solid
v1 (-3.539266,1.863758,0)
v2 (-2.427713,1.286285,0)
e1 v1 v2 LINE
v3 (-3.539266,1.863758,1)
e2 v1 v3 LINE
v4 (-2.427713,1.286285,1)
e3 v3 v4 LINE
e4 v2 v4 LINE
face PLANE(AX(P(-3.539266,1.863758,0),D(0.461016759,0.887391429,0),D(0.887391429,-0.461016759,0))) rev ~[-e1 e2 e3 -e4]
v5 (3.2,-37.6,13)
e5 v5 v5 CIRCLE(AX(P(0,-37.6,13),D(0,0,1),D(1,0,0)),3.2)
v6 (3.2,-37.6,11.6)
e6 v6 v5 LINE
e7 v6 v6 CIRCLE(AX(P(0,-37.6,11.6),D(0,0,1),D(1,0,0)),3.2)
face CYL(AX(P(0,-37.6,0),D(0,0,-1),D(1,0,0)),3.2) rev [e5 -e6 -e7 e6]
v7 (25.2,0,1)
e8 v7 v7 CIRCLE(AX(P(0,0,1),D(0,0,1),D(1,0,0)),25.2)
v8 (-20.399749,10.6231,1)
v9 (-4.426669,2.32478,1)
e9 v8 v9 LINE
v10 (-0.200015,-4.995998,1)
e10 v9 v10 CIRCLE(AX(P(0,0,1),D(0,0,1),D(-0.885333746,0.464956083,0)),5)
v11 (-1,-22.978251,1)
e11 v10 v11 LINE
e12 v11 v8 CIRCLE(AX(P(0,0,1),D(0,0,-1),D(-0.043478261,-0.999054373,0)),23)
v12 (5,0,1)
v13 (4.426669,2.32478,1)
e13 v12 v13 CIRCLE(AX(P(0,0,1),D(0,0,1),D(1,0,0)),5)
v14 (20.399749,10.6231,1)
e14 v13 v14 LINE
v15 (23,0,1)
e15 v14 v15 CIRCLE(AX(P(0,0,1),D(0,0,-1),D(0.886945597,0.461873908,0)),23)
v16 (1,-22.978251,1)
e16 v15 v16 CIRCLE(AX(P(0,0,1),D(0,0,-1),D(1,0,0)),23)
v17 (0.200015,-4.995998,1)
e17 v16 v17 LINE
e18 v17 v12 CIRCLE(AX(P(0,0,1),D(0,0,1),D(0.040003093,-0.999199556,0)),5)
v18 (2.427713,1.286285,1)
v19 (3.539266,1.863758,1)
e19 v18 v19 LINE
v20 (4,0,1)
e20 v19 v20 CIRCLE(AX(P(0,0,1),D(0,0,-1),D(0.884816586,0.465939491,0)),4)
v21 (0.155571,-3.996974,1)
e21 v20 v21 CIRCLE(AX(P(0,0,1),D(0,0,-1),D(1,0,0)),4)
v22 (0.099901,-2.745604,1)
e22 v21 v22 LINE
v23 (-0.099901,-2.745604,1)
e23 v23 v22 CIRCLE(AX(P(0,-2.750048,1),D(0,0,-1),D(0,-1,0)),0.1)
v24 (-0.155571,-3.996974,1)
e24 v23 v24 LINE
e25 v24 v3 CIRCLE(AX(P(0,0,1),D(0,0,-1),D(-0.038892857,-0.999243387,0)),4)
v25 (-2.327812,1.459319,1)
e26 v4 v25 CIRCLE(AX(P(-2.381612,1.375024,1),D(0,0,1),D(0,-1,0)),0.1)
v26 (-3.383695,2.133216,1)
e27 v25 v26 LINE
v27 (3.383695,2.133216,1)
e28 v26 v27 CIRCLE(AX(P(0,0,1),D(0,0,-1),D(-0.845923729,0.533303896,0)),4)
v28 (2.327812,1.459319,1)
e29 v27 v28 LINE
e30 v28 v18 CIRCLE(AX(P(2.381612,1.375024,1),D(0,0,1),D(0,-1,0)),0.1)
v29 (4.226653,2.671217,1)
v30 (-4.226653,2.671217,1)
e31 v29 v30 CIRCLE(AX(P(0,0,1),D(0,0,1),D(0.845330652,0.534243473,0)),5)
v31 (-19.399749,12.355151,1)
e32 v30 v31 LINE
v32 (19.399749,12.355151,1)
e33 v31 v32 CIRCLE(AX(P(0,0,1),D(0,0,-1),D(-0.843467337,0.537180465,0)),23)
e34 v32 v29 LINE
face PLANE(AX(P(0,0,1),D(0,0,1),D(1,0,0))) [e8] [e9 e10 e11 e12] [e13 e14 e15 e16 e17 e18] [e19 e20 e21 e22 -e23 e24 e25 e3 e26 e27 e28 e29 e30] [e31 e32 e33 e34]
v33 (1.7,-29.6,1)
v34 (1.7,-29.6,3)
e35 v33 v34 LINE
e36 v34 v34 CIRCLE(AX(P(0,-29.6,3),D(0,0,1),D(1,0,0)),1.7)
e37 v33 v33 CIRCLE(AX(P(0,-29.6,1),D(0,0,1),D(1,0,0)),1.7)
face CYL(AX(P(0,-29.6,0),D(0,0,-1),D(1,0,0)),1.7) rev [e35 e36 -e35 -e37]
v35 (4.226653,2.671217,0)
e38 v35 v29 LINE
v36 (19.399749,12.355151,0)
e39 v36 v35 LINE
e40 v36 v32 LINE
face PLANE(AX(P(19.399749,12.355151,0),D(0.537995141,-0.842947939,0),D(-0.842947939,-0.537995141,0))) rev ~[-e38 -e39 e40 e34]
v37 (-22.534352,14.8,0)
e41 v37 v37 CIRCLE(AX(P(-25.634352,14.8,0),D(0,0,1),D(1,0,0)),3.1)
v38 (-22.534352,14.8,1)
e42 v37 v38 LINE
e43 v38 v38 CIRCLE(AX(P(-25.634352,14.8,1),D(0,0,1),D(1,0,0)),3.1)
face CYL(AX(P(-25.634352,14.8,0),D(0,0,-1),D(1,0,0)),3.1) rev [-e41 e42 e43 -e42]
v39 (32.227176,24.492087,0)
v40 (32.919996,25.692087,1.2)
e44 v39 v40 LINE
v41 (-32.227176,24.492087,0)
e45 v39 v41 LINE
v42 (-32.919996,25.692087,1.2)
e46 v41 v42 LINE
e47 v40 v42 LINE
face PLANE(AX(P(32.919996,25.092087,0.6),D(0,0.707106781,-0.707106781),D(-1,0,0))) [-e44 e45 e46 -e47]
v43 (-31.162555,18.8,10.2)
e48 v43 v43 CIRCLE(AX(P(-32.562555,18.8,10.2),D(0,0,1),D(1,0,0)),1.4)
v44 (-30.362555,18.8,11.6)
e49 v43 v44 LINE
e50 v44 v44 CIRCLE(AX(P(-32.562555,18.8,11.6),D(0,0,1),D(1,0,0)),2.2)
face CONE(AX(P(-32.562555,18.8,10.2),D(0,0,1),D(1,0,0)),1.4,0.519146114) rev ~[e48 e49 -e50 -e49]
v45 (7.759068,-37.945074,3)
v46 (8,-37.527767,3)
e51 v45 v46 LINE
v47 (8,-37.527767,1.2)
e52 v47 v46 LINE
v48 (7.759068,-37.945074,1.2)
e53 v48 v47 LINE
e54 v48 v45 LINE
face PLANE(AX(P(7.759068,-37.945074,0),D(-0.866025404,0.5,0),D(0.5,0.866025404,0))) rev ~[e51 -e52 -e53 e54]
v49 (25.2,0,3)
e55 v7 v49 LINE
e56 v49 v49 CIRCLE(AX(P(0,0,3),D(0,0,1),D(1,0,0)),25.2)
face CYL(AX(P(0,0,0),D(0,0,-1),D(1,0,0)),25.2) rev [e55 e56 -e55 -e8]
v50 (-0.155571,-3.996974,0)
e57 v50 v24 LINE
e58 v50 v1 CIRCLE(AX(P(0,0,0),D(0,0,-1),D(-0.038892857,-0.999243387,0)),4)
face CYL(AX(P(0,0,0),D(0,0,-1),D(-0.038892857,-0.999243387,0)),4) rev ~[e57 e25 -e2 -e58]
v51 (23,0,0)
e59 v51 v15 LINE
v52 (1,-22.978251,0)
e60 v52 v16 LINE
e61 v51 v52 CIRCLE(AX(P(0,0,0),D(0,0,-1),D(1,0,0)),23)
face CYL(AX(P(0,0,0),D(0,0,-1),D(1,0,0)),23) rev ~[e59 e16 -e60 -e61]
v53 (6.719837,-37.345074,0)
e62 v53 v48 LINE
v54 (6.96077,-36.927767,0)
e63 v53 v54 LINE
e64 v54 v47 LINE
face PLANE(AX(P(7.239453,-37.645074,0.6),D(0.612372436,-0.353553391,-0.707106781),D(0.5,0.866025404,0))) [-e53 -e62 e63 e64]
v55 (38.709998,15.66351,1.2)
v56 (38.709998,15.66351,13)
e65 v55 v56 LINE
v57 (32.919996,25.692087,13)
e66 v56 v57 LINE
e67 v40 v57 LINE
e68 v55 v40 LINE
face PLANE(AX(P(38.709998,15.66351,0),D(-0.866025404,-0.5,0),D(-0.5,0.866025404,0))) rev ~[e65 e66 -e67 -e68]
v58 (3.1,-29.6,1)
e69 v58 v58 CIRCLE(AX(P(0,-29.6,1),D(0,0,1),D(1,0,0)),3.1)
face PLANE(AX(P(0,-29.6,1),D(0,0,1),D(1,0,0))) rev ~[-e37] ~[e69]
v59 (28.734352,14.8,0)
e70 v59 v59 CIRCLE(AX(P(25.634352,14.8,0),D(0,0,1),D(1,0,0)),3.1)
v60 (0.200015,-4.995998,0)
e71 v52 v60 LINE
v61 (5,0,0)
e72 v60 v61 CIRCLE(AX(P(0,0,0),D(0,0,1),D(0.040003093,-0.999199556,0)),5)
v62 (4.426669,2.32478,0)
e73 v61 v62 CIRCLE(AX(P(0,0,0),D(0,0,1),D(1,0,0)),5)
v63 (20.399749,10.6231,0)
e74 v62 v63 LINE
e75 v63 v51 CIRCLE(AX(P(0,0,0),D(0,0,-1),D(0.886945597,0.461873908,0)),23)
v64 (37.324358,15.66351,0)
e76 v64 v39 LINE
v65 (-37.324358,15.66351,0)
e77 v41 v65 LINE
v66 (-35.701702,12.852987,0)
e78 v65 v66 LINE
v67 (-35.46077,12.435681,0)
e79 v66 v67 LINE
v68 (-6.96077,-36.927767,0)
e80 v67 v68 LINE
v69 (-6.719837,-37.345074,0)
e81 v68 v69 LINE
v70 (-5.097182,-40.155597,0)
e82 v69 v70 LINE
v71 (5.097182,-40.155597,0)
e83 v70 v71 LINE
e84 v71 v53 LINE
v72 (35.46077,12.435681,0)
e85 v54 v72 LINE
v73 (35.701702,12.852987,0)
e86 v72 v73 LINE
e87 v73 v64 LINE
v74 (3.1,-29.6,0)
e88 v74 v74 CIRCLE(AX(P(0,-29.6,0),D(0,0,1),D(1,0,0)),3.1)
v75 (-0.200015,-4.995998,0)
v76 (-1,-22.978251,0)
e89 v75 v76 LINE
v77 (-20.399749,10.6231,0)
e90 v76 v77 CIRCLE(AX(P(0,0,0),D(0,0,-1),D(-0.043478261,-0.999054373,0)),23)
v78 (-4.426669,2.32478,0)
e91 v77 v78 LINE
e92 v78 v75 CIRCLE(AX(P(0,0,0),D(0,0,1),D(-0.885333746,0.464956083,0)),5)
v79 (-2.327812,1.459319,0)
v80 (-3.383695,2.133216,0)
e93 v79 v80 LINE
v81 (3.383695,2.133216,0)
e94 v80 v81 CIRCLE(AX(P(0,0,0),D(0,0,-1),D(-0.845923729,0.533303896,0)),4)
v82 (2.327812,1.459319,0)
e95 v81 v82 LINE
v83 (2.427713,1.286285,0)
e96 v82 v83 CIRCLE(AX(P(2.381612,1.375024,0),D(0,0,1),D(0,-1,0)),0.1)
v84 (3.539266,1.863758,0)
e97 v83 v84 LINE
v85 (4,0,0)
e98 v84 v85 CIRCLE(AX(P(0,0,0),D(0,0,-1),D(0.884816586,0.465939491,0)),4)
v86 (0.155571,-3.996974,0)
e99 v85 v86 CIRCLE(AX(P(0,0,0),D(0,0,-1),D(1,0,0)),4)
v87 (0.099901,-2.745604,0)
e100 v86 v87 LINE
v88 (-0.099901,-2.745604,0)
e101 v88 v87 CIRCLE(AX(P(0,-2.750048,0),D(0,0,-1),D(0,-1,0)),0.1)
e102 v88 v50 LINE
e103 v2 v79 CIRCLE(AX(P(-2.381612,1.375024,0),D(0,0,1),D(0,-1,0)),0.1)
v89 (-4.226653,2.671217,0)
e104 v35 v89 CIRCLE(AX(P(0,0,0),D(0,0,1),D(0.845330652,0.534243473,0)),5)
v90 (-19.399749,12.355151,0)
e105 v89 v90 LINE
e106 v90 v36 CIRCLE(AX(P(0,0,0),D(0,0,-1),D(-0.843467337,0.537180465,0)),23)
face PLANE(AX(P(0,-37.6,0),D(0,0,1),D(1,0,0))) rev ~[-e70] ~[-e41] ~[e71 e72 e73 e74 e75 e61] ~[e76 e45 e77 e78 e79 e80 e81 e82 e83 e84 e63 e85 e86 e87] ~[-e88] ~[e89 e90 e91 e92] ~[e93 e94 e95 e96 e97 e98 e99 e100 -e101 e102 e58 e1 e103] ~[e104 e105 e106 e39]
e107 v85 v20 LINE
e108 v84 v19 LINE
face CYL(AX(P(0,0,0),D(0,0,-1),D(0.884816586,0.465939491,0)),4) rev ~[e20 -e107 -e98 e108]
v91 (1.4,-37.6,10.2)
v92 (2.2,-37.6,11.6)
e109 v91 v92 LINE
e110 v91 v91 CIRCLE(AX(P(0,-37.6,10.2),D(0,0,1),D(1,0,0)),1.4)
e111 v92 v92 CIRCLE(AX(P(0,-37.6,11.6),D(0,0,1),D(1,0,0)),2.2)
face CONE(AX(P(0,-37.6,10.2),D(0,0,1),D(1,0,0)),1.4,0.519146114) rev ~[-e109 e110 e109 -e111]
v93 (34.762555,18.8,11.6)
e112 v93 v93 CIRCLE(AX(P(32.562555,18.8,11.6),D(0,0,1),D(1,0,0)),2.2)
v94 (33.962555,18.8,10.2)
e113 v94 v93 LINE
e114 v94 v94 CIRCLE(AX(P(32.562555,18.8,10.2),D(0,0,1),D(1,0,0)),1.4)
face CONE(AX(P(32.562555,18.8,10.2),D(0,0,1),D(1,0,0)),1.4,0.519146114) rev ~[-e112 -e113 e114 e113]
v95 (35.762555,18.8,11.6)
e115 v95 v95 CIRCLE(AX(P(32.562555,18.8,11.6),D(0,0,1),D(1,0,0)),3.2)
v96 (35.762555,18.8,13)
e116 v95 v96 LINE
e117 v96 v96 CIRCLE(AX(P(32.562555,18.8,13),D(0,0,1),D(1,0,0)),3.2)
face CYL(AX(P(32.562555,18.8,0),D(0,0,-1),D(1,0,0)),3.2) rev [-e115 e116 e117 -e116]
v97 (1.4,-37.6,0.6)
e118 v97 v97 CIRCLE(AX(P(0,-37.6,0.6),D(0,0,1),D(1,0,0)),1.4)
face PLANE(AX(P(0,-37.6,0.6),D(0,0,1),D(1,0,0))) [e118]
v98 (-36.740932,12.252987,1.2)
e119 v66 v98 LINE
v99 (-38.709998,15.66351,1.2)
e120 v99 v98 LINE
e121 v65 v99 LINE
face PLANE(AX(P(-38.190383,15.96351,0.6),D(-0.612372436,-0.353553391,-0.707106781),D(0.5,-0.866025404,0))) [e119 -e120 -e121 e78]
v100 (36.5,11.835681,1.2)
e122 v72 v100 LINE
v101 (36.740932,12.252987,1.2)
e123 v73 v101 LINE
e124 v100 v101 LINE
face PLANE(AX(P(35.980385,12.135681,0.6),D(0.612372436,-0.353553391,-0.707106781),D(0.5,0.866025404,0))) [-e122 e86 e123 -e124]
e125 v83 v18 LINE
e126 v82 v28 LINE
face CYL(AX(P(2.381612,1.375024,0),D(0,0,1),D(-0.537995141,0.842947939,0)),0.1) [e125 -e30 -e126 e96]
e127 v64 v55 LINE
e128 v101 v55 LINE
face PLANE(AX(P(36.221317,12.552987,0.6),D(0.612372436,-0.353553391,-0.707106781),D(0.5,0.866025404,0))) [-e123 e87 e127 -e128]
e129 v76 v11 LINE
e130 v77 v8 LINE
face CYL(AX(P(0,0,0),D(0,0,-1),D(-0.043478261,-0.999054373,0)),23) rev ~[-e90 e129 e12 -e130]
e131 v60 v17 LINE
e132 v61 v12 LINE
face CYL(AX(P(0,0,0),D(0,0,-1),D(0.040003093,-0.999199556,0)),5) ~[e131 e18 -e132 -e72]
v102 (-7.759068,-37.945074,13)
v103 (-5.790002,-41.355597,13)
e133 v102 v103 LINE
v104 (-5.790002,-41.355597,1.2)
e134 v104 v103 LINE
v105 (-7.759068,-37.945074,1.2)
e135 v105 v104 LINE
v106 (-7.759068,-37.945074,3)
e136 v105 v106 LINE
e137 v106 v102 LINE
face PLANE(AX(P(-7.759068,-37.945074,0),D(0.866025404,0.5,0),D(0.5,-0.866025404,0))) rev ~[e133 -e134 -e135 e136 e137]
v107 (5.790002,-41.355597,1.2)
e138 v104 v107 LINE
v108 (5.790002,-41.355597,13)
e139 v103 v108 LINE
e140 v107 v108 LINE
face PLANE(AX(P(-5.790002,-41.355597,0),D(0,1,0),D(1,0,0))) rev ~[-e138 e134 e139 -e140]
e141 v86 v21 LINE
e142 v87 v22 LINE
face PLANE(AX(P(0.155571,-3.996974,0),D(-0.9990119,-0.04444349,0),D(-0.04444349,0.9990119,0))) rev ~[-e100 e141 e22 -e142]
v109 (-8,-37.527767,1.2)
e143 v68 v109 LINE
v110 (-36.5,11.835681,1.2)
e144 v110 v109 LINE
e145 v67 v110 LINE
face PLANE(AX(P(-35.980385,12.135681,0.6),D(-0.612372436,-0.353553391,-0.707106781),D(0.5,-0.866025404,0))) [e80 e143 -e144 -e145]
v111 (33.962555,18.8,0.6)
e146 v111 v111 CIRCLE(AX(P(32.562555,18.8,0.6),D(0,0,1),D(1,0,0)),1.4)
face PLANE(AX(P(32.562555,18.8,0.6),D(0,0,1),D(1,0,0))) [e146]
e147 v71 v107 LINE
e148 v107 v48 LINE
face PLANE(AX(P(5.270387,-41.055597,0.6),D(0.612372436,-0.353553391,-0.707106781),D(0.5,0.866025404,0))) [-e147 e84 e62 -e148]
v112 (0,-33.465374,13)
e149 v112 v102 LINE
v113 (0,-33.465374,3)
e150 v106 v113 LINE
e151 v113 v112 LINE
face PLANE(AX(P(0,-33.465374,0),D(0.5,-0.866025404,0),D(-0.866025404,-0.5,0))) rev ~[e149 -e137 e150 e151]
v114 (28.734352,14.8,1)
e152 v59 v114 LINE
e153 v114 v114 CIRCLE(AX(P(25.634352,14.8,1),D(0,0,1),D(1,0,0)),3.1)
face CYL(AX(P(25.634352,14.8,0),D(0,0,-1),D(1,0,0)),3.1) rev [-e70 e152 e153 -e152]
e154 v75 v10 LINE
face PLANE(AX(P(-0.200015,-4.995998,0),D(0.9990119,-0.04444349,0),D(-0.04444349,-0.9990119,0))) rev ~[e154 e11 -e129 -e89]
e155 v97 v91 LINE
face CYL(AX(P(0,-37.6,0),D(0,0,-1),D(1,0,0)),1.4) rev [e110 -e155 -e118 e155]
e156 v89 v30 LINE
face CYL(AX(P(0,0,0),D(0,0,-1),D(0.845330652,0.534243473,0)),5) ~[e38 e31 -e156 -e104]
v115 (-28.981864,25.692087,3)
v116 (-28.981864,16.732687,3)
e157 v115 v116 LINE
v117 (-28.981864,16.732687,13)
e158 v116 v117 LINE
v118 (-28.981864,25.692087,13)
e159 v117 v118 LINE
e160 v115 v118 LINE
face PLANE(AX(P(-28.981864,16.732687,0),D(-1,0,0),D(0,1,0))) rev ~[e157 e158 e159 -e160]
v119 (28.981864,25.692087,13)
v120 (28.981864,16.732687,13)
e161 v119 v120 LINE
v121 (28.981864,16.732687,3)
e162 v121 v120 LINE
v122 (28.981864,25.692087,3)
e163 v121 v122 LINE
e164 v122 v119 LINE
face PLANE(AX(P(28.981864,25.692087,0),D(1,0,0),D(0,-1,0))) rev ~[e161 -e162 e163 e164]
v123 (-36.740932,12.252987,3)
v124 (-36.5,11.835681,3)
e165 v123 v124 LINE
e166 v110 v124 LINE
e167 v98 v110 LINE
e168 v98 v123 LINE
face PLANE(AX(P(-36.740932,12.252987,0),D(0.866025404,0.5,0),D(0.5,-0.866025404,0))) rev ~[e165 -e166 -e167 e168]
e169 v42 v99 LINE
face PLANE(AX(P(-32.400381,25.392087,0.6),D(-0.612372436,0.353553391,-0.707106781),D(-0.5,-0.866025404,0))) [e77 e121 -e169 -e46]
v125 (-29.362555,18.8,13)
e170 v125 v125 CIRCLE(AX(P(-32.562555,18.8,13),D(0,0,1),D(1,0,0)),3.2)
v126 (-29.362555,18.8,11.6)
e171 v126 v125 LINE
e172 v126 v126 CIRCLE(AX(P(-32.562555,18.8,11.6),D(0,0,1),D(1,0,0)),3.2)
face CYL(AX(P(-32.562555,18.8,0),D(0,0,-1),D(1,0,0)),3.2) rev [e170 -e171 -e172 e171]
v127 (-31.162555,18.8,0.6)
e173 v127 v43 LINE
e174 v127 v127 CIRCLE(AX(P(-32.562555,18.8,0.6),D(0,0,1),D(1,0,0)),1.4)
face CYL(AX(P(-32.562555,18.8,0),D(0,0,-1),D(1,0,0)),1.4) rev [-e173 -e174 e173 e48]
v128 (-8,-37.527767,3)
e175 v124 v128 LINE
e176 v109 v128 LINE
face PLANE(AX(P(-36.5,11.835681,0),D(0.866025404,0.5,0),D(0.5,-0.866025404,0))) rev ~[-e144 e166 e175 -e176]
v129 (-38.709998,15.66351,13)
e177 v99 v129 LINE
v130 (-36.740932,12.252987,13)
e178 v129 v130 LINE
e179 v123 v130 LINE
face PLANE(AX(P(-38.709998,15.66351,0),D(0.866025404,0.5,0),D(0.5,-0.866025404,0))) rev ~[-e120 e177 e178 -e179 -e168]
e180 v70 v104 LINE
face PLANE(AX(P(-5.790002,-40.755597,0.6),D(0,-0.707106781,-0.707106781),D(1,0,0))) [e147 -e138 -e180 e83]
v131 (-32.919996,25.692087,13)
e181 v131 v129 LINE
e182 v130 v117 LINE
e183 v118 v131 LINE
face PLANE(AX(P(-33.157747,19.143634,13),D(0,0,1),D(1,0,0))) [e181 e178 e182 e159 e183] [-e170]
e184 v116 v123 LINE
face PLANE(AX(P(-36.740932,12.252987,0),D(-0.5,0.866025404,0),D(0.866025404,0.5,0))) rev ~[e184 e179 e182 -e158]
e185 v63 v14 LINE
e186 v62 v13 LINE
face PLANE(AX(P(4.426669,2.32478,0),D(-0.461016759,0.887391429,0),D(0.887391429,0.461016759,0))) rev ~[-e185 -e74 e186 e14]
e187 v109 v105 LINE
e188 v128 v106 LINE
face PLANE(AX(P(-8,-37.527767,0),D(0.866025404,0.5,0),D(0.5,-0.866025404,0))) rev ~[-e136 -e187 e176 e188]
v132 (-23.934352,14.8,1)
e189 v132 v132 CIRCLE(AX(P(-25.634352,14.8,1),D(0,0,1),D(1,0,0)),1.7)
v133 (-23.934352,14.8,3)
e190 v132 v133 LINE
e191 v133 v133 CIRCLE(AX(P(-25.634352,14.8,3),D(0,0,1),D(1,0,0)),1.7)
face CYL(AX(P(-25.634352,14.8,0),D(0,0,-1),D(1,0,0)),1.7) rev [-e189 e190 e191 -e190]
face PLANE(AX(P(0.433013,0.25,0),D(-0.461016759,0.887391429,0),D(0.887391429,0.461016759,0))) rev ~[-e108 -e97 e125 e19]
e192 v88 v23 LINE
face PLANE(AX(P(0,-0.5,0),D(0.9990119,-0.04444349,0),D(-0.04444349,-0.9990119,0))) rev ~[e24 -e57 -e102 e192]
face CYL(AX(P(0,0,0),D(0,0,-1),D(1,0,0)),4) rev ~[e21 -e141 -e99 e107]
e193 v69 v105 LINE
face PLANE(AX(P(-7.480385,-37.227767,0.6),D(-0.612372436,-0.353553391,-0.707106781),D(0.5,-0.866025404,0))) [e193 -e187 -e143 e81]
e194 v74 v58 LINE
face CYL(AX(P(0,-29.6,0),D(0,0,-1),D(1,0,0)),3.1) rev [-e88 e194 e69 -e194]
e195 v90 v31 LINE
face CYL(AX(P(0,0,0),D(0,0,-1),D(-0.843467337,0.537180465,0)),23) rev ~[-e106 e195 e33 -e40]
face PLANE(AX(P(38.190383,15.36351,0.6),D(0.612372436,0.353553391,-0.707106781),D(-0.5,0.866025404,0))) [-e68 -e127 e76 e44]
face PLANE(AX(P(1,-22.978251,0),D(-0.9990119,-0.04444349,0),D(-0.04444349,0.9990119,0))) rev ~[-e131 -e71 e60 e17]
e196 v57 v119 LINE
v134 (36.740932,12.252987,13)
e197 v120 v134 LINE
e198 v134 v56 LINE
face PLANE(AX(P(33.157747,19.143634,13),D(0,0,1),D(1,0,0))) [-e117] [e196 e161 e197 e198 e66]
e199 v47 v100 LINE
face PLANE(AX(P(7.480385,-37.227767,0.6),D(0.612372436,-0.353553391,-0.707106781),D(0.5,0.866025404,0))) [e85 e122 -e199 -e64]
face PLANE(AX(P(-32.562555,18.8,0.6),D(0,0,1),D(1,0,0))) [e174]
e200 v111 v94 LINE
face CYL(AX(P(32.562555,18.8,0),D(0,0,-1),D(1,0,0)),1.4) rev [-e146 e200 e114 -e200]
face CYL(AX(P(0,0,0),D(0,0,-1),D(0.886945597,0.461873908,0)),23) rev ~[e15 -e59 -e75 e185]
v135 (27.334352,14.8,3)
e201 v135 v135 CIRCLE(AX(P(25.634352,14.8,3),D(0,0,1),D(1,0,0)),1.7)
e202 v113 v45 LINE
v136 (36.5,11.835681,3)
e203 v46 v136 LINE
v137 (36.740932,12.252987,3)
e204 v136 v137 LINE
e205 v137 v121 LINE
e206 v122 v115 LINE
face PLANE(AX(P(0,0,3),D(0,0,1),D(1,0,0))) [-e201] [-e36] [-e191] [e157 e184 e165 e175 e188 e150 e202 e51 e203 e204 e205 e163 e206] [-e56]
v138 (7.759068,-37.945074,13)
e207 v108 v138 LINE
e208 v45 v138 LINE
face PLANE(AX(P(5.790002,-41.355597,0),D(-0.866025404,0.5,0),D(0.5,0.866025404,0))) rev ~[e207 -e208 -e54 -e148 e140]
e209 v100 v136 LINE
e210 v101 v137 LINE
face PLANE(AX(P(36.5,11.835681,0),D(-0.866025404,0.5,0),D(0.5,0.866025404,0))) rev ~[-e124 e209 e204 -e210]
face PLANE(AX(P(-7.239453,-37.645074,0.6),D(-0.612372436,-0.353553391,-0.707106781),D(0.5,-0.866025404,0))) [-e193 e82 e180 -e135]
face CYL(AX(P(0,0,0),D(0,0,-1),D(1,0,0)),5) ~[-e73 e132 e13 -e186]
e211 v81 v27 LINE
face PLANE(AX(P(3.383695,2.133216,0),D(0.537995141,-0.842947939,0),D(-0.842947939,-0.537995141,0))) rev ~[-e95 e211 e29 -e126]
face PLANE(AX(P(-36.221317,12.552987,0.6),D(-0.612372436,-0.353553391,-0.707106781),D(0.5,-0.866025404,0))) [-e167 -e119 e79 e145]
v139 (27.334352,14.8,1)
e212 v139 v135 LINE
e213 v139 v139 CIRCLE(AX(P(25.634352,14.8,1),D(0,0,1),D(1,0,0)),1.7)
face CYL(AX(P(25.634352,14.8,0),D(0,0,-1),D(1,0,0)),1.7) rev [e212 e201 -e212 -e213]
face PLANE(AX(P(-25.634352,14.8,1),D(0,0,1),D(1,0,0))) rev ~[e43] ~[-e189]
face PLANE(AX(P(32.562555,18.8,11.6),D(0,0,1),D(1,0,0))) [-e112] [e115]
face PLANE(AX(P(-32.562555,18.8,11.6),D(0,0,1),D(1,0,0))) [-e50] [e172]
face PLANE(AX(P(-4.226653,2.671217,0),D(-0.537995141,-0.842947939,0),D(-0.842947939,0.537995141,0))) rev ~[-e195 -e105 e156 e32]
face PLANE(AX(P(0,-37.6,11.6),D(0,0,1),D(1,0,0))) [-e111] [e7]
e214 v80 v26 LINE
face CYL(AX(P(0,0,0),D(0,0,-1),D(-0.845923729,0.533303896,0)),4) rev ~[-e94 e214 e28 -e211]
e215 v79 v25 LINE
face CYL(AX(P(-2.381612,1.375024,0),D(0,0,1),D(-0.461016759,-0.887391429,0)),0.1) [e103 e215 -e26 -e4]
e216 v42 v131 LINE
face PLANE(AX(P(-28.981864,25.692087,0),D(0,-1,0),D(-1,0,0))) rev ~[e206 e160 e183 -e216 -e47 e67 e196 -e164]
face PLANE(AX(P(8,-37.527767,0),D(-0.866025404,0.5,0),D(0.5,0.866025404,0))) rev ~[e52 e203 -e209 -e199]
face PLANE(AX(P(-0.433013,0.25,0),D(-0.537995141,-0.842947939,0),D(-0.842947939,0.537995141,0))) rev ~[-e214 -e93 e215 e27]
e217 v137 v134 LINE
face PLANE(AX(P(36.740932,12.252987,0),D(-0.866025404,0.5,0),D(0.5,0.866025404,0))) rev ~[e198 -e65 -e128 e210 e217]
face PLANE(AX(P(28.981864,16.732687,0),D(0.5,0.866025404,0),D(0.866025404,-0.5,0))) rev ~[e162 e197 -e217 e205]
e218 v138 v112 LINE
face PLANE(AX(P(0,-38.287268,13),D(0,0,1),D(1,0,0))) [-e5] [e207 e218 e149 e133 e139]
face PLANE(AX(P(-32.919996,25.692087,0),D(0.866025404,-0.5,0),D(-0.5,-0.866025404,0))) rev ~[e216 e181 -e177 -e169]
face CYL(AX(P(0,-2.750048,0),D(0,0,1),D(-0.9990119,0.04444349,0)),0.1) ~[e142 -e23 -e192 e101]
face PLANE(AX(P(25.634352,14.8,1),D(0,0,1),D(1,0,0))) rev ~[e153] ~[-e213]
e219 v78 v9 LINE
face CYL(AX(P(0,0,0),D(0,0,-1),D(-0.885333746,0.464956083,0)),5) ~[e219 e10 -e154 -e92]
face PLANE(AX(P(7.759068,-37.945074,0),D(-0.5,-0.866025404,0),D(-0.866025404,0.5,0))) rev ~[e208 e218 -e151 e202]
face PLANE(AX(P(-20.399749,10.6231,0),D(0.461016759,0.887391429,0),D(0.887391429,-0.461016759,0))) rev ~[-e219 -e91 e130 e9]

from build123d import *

# Parameters (mm, degrees)
F0_R       = 3.1
F0_R_2     = 25.2
F0_R_3     = 1.7
F1_DEPTH   = 3
F2_DEPTH   = 1
F0_R_4     = 3.2
F3_DEPTH   = 13
F0_R_5     = 1.4
F4_DEPTH   = 11.6
F5_DEPTH   = 0.6
F6_DEPTH   = 1
F7_SIZE2   = 0.8
F7_SIZE    = 1.4
F7_2_SIZE2 = 0.8
F7_2_SIZE  = 1.4
F7_3_SIZE2 = 0.8
F7_3_SIZE  = 1.4
F8_R       = 0.1
F9_SIZE    = 1.2


with BuildPart() as f1:
    # F0 (on Top) → F1 (new body)
    with BuildSketch(Plane.XY):
        Polygon((28.5, 16.4544826719), (28.5, 25.6920869789), (-28.5, 25.6920869789), (-28.5, 16.4544826719), (-36.5, 11.8356805184), (-8, -37.5277674973), (0, -32.9089653438), (8, -37.5277674973), (36.5, 11.8356805184), align=None)
        with Locations((0, -29.6)):
            Circle(F0_R, mode=Mode.SUBTRACT)
        Circle(F0_R_2, mode=Mode.SUBTRACT)
        with Locations((-25.634351952, 14.8)):
            Circle(F0_R, mode=Mode.SUBTRACT)
        with Locations((25.634351952, 14.8)):
            Circle(F0_R, mode=Mode.SUBTRACT)
        with Locations((-25.634351952, 14.8)):
            Circle(F0_R)
        with Locations((-25.634351952, 14.8)):
            Circle(F0_R_3, mode=Mode.SUBTRACT)
        with Locations((25.634351952, 14.8)):
            Circle(F0_R)
        with Locations((25.634351952, 14.8)):
            Circle(F0_R_3, mode=Mode.SUBTRACT)
        with Locations((0, -29.6)):
            Circle(F0_R)
        with Locations((0, -29.6)):
            Circle(F0_R_3, mode=Mode.SUBTRACT)
        Polygon((-28.5, 16.4544826719), (-28.5, 25.6920869789), (-28.981864252, 25.6920869789), (-28.981864252, 16.7326871275), (-36.740932126, 12.2529872018), (-36.5, 11.8356805184), align=None)
        Polygon((28.981864252, 25.6920869789), (28.5, 25.6920869789), (28.5, 16.4544826719), (36.5, 11.8356805184), (36.740932126, 12.2529872018), (28.981864252, 16.7326871275), align=None)
        Polygon((7.759067874, -37.9450741808), (8, -37.5277674973), (0, -32.9089653438), (-8, -37.5277674973), (-7.759067874, -37.9450741808), (0, -33.4653742551), align=None)
    extrude(amount=F1_DEPTH)

    # F0 (on Top) → F2 (join)
    with BuildSketch(Plane.XY):
        Circle(F0_R_2)
        with BuildLine():
            ThreePointArc((19.3997487421, 12.3551506969), (19.918584287, 11.5), (20.3997487421, 10.6230998893))
            ThreePointArc((20.3997487421, 10.6230998893), (22.3404814302, 5.468353451), (23, 0))
            ThreePointArc((23, 0), (16.6132477258, -15.9059737206), (1, -22.9782505862))
            ThreePointArc((1, -22.9782505862), (0, -23), (-1, -22.9782505862))
            ThreePointArc((-1, -22.9782505862), (-19.918584287, -11.5), (-20.3997487421, 10.6230998893))
            ThreePointArc((-20.3997487421, 10.6230998893), (-19.918584287, 11.5), (-19.3997487421, 12.3551506969))
            ThreePointArc((-19.3997487421, 12.3551506969), (0, 23), (19.3997487421, 12.3551506969))
        make_face(mode=Mode.SUBTRACT)
        with BuildLine():
            Line((1, -22.9782505862), (0.2000154666, -4.9959977795))
            ThreePointArc((0.2000154666, -4.9959977795), (0, -5), (-0.2000154666, -4.9959977795))
            Line((-0.2000154666, -4.9959977795), (-1, -22.9782505862))
            ThreePointArc((-1, -22.9782505862), (0, -23), (1, -22.9782505862))
        make_face()
        with BuildLine():
            ThreePointArc((4.226653261, 2.671217365), (4.3301270189, 2.5), (4.4266687276, 2.3247804145))
            Line((4.4266687276, 2.3247804145), (20.3997487421, 10.6230998893))
            ThreePointArc((20.3997487421, 10.6230998893), (19.918584287, 11.5), (19.3997487421, 12.3551506969))
            Line((19.3997487421, 12.3551506969), (4.226653261, 2.671217365))
        make_face()
        with BuildLine():
            ThreePointArc((-4.4266687276, 2.3247804145), (-4.3301270189, 2.5), (-4.226653261, 2.671217365))
            Line((-4.226653261, 2.671217365), (-19.3997487421, 12.3551506969))
            ThreePointArc((-19.3997487421, 12.3551506969), (-19.918584287, 11.5), (-20.3997487421, 10.6230998893))
            Line((-20.3997487421, 10.6230998893), (-4.4266687276, 2.3247804145))
        make_face()
        with BuildLine():
            Line((-0.2000154666, -4.9959977795), (-0.1555714282, -3.9969735464))
            ThreePointArc((-0.1555714282, -3.9969735464), (-3.4641016151, -2), (-3.5392663435, 1.8637579643))
            Line((-3.5392663435, 1.8637579643), (-4.4266687276, 2.3247804145))
            ThreePointArc((-4.4266687276, 2.3247804145), (-4.3301270189, -2.5), (-0.2000154666, -4.9959977795))
        make_face()
        with BuildLine():
            ThreePointArc((3.5392663435, 1.8637579643), (3.883108637, 0.9599308897), (4, 0))
            ThreePointArc((4, 0), (2.8829052805, -2.7728788548), (0.1555714282, -3.9969735464))
            Line((0.1555714282, -3.9969735464), (0.2000154666, -4.9959977795))
            ThreePointArc((0.2000154666, -4.9959977795), (3.6055566375, -3.4640960341), (5, 0))
            ThreePointArc((5, 0), (4.8545516599, 1.1972168479), (4.4266687276, 2.3247804145))
            Line((4.4266687276, 2.3247804145), (3.5392663435, 1.8637579643))
        make_face()
        with BuildLine():
            ThreePointArc((-3.3836949154, 2.1332155821), (0, 4), (3.3836949154, 2.1332155821))
            Line((3.3836949154, 2.1332155821), (4.226653261, 2.671217365))
            ThreePointArc((4.226653261, 2.671217365), (0, 5), (-4.226653261, 2.671217365))
            Line((-4.226653261, 2.671217365), (-3.3836949154, 2.1332155821))
        make_face()
        with BuildLine():
            Line((0.4330127019, 0.25), (3.5392663435, 1.8637579643))
            ThreePointArc((3.5392663435, 1.8637579643), (3.4641016151, 2), (3.3836949154, 2.1332155821))
            Line((3.3836949154, 2.1332155821), (0.4330127019, 0.25))
        make_face()
        with BuildLine():
            Line((-0.4330127019, 0.25), (-3.3836949154, 2.1332155821))
            ThreePointArc((-3.3836949154, 2.1332155821), (-3.4641016151, 2), (-3.5392663435, 1.8637579643))
            Line((-3.5392663435, 1.8637579643), (-0.4330127019, 0.25))
        make_face()
        with BuildLine():
            ThreePointArc((-0.1555714282, -3.9969735464), (0, -4), (0.1555714282, -3.9969735464))
            Line((0.1555714282, -3.9969735464), (0, -0.5))
            Line((0, -0.5), (-0.1555714282, -3.9969735464))
        make_face()
        with BuildLine():
            Line((0.2000154666, -4.9959977795), (0.1555714282, -3.9969735464))
            ThreePointArc((0.1555714282, -3.9969735464), (0, -4), (-0.1555714282, -3.9969735464))
            Line((-0.1555714282, -3.9969735464), (-0.2000154666, -4.9959977795))
            ThreePointArc((-0.2000154666, -4.9959977795), (0, -5), (0.2000154666, -4.9959977795))
        make_face()
        with BuildLine():
            ThreePointArc((3.3836949154, 2.1332155821), (3.4641016151, 2), (3.5392663435, 1.8637579643))
            Line((3.5392663435, 1.8637579643), (4.4266687276, 2.3247804145))
            ThreePointArc((4.4266687276, 2.3247804145), (4.3301270189, 2.5), (4.226653261, 2.671217365))
            Line((4.226653261, 2.671217365), (3.3836949154, 2.1332155821))
        make_face()
        with BuildLine():
            ThreePointArc((-3.5392663435, 1.8637579643), (-3.4641016151, 2), (-3.3836949154, 2.1332155821))
            Line((-3.3836949154, 2.1332155821), (-4.226653261, 2.671217365))
            ThreePointArc((-4.226653261, 2.671217365), (-4.3301270189, 2.5), (-4.4266687276, 2.3247804145))
            Line((-4.4266687276, 2.3247804145), (-3.5392663435, 1.8637579643))
        make_face()
    extrude(amount=F2_DEPTH)

    # F0 (on Top) → F3 (join)
    with BuildSketch(Plane.XY):
        Polygon((-28.981864252, 16.7326871275), (-28.981864252, 25.6920869789), (-32.9199963413, 25.6920869789), (-38.7099981707, 15.6635096346), (-36.740932126, 12.2529872018), align=None)
        with Locations((-32.5625551823, 18.8)):
            Circle(F0_R_4, mode=Mode.SUBTRACT)
        Polygon((5.7900018293, -41.3555966135), (7.759067874, -37.9450741808), (0, -33.4653742551), (-7.759067874, -37.9450741808), (-5.7900018293, -41.3555966135), align=None)
        with Locations((0, -37.6)):
            Circle(F0_R_4, mode=Mode.SUBTRACT)
        Polygon((32.9199963413, 25.6920869789), (28.981864252, 25.6920869789), (28.981864252, 16.7326871275), (36.740932126, 12.2529872018), (38.7099981707, 15.6635096346), align=None)
        with Locations((32.5625551823, 18.8)):
            Circle(F0_R_4, mode=Mode.SUBTRACT)
    extrude(amount=F3_DEPTH)

    # F0 (on Top) → F4 (join)
    with BuildSketch(Plane.XY):
        with Locations((0, -37.6)):
            Circle(F0_R_4)
        with Locations((0, -37.6)):
            Circle(F0_R_5, mode=Mode.SUBTRACT)
        with Locations((-32.5625551823, 18.8)):
            Circle(F0_R_4)
        with Locations((-32.5625551823, 18.8)):
            Circle(F0_R_5, mode=Mode.SUBTRACT)
        with Locations((32.5625551823, 18.8)):
            Circle(F0_R_4)
        with Locations((32.5625551823, 18.8)):
            Circle(F0_R_5, mode=Mode.SUBTRACT)
    extrude(amount=F4_DEPTH)

    # F0 (on Top) → F5 (join)
    with BuildSketch(Plane.XY):
        with Locations((0, -37.6)):
            Circle(F0_R_5)
        with Locations((-32.5625551823, 18.8)):
            Circle(F0_R_5)
        with Locations((32.5625551823, 18.8)):
            Circle(F0_R_5)
    extrude(amount=F5_DEPTH)

    # F0 (on Top) → F6 (cut)
    with BuildSketch(Plane.XY):
        with Locations((25.634351952, 14.8)):
            Circle(F0_R)
        with Locations((25.634351952, 14.8)):
            Circle(F0_R_3, mode=Mode.SUBTRACT)
        with Locations((-25.634351952, 14.8)):
            Circle(F0_R)
        with Locations((-25.634351952, 14.8)):
            Circle(F0_R_3, mode=Mode.SUBTRACT)
        with Locations((0, -29.6)):
            Circle(F0_R)
        with Locations((0, -29.6)):
            Circle(F0_R_3, mode=Mode.SUBTRACT)
    extrude(amount=F6_DEPTH, mode=Mode.SUBTRACT)

    # F7
    f7_edges = [f1.edges().sort_by_distance(p)[0] for p in [
        (-33.962555, 18.8, 11.6),
    ]]
    f7_side = f1.faces().sort_by_distance((-33.962555, 18.8, 6.1))[0]
    chamfer(f7_edges, length=F7_SIZE, length2=F7_SIZE2, reference=f7_side)

    # F7#2
    f7_2_edges = [f1.edges().sort_by_distance(p)[0] for p in [
        (31.162555, 18.8, 11.6),
    ]]
    f7_2_side = f1.faces().sort_by_distance((31.162555, 18.8, 6.1))[0]
    chamfer(f7_2_edges, length=F7_2_SIZE, length2=F7_2_SIZE2, reference=f7_2_side)

    # F7#3
    f7_3_edges = [f1.edges().sort_by_distance(p)[0] for p in [
        (-1.4, -37.6, 11.6),
    ]]
    f7_3_side = f1.faces().sort_by_distance((-1.4, -37.6, 6.1))[0]
    chamfer(f7_3_edges, length=F7_3_SIZE, length2=F7_3_SIZE2, reference=f7_3_side)

    # F8
    f8_edges = [f1.edges().sort_by_distance(p)[0] for p in [
        (-0.433013, 0.25, 0.5),
        (0.433013, 0.25, 0.5),
        (0, -0.5, 0.5),
    ]]
    fillet(f8_edges, radius=F8_R)

    # F9
    f9_edges = [f1.edges().sort_by_distance(p)[0] for p in [
        (-22.25, -12.846043, 0),
        (-35.814997, 20.677798, 0),
        (0, 25.692087, 0),
        (35.814997, 20.677798, 0),
        (22.25, -12.846043, 0),
        (0, -41.355597, 0),
    ]]
    chamfer(f9_edges, length=F9_SIZE)


solid = f1.part
